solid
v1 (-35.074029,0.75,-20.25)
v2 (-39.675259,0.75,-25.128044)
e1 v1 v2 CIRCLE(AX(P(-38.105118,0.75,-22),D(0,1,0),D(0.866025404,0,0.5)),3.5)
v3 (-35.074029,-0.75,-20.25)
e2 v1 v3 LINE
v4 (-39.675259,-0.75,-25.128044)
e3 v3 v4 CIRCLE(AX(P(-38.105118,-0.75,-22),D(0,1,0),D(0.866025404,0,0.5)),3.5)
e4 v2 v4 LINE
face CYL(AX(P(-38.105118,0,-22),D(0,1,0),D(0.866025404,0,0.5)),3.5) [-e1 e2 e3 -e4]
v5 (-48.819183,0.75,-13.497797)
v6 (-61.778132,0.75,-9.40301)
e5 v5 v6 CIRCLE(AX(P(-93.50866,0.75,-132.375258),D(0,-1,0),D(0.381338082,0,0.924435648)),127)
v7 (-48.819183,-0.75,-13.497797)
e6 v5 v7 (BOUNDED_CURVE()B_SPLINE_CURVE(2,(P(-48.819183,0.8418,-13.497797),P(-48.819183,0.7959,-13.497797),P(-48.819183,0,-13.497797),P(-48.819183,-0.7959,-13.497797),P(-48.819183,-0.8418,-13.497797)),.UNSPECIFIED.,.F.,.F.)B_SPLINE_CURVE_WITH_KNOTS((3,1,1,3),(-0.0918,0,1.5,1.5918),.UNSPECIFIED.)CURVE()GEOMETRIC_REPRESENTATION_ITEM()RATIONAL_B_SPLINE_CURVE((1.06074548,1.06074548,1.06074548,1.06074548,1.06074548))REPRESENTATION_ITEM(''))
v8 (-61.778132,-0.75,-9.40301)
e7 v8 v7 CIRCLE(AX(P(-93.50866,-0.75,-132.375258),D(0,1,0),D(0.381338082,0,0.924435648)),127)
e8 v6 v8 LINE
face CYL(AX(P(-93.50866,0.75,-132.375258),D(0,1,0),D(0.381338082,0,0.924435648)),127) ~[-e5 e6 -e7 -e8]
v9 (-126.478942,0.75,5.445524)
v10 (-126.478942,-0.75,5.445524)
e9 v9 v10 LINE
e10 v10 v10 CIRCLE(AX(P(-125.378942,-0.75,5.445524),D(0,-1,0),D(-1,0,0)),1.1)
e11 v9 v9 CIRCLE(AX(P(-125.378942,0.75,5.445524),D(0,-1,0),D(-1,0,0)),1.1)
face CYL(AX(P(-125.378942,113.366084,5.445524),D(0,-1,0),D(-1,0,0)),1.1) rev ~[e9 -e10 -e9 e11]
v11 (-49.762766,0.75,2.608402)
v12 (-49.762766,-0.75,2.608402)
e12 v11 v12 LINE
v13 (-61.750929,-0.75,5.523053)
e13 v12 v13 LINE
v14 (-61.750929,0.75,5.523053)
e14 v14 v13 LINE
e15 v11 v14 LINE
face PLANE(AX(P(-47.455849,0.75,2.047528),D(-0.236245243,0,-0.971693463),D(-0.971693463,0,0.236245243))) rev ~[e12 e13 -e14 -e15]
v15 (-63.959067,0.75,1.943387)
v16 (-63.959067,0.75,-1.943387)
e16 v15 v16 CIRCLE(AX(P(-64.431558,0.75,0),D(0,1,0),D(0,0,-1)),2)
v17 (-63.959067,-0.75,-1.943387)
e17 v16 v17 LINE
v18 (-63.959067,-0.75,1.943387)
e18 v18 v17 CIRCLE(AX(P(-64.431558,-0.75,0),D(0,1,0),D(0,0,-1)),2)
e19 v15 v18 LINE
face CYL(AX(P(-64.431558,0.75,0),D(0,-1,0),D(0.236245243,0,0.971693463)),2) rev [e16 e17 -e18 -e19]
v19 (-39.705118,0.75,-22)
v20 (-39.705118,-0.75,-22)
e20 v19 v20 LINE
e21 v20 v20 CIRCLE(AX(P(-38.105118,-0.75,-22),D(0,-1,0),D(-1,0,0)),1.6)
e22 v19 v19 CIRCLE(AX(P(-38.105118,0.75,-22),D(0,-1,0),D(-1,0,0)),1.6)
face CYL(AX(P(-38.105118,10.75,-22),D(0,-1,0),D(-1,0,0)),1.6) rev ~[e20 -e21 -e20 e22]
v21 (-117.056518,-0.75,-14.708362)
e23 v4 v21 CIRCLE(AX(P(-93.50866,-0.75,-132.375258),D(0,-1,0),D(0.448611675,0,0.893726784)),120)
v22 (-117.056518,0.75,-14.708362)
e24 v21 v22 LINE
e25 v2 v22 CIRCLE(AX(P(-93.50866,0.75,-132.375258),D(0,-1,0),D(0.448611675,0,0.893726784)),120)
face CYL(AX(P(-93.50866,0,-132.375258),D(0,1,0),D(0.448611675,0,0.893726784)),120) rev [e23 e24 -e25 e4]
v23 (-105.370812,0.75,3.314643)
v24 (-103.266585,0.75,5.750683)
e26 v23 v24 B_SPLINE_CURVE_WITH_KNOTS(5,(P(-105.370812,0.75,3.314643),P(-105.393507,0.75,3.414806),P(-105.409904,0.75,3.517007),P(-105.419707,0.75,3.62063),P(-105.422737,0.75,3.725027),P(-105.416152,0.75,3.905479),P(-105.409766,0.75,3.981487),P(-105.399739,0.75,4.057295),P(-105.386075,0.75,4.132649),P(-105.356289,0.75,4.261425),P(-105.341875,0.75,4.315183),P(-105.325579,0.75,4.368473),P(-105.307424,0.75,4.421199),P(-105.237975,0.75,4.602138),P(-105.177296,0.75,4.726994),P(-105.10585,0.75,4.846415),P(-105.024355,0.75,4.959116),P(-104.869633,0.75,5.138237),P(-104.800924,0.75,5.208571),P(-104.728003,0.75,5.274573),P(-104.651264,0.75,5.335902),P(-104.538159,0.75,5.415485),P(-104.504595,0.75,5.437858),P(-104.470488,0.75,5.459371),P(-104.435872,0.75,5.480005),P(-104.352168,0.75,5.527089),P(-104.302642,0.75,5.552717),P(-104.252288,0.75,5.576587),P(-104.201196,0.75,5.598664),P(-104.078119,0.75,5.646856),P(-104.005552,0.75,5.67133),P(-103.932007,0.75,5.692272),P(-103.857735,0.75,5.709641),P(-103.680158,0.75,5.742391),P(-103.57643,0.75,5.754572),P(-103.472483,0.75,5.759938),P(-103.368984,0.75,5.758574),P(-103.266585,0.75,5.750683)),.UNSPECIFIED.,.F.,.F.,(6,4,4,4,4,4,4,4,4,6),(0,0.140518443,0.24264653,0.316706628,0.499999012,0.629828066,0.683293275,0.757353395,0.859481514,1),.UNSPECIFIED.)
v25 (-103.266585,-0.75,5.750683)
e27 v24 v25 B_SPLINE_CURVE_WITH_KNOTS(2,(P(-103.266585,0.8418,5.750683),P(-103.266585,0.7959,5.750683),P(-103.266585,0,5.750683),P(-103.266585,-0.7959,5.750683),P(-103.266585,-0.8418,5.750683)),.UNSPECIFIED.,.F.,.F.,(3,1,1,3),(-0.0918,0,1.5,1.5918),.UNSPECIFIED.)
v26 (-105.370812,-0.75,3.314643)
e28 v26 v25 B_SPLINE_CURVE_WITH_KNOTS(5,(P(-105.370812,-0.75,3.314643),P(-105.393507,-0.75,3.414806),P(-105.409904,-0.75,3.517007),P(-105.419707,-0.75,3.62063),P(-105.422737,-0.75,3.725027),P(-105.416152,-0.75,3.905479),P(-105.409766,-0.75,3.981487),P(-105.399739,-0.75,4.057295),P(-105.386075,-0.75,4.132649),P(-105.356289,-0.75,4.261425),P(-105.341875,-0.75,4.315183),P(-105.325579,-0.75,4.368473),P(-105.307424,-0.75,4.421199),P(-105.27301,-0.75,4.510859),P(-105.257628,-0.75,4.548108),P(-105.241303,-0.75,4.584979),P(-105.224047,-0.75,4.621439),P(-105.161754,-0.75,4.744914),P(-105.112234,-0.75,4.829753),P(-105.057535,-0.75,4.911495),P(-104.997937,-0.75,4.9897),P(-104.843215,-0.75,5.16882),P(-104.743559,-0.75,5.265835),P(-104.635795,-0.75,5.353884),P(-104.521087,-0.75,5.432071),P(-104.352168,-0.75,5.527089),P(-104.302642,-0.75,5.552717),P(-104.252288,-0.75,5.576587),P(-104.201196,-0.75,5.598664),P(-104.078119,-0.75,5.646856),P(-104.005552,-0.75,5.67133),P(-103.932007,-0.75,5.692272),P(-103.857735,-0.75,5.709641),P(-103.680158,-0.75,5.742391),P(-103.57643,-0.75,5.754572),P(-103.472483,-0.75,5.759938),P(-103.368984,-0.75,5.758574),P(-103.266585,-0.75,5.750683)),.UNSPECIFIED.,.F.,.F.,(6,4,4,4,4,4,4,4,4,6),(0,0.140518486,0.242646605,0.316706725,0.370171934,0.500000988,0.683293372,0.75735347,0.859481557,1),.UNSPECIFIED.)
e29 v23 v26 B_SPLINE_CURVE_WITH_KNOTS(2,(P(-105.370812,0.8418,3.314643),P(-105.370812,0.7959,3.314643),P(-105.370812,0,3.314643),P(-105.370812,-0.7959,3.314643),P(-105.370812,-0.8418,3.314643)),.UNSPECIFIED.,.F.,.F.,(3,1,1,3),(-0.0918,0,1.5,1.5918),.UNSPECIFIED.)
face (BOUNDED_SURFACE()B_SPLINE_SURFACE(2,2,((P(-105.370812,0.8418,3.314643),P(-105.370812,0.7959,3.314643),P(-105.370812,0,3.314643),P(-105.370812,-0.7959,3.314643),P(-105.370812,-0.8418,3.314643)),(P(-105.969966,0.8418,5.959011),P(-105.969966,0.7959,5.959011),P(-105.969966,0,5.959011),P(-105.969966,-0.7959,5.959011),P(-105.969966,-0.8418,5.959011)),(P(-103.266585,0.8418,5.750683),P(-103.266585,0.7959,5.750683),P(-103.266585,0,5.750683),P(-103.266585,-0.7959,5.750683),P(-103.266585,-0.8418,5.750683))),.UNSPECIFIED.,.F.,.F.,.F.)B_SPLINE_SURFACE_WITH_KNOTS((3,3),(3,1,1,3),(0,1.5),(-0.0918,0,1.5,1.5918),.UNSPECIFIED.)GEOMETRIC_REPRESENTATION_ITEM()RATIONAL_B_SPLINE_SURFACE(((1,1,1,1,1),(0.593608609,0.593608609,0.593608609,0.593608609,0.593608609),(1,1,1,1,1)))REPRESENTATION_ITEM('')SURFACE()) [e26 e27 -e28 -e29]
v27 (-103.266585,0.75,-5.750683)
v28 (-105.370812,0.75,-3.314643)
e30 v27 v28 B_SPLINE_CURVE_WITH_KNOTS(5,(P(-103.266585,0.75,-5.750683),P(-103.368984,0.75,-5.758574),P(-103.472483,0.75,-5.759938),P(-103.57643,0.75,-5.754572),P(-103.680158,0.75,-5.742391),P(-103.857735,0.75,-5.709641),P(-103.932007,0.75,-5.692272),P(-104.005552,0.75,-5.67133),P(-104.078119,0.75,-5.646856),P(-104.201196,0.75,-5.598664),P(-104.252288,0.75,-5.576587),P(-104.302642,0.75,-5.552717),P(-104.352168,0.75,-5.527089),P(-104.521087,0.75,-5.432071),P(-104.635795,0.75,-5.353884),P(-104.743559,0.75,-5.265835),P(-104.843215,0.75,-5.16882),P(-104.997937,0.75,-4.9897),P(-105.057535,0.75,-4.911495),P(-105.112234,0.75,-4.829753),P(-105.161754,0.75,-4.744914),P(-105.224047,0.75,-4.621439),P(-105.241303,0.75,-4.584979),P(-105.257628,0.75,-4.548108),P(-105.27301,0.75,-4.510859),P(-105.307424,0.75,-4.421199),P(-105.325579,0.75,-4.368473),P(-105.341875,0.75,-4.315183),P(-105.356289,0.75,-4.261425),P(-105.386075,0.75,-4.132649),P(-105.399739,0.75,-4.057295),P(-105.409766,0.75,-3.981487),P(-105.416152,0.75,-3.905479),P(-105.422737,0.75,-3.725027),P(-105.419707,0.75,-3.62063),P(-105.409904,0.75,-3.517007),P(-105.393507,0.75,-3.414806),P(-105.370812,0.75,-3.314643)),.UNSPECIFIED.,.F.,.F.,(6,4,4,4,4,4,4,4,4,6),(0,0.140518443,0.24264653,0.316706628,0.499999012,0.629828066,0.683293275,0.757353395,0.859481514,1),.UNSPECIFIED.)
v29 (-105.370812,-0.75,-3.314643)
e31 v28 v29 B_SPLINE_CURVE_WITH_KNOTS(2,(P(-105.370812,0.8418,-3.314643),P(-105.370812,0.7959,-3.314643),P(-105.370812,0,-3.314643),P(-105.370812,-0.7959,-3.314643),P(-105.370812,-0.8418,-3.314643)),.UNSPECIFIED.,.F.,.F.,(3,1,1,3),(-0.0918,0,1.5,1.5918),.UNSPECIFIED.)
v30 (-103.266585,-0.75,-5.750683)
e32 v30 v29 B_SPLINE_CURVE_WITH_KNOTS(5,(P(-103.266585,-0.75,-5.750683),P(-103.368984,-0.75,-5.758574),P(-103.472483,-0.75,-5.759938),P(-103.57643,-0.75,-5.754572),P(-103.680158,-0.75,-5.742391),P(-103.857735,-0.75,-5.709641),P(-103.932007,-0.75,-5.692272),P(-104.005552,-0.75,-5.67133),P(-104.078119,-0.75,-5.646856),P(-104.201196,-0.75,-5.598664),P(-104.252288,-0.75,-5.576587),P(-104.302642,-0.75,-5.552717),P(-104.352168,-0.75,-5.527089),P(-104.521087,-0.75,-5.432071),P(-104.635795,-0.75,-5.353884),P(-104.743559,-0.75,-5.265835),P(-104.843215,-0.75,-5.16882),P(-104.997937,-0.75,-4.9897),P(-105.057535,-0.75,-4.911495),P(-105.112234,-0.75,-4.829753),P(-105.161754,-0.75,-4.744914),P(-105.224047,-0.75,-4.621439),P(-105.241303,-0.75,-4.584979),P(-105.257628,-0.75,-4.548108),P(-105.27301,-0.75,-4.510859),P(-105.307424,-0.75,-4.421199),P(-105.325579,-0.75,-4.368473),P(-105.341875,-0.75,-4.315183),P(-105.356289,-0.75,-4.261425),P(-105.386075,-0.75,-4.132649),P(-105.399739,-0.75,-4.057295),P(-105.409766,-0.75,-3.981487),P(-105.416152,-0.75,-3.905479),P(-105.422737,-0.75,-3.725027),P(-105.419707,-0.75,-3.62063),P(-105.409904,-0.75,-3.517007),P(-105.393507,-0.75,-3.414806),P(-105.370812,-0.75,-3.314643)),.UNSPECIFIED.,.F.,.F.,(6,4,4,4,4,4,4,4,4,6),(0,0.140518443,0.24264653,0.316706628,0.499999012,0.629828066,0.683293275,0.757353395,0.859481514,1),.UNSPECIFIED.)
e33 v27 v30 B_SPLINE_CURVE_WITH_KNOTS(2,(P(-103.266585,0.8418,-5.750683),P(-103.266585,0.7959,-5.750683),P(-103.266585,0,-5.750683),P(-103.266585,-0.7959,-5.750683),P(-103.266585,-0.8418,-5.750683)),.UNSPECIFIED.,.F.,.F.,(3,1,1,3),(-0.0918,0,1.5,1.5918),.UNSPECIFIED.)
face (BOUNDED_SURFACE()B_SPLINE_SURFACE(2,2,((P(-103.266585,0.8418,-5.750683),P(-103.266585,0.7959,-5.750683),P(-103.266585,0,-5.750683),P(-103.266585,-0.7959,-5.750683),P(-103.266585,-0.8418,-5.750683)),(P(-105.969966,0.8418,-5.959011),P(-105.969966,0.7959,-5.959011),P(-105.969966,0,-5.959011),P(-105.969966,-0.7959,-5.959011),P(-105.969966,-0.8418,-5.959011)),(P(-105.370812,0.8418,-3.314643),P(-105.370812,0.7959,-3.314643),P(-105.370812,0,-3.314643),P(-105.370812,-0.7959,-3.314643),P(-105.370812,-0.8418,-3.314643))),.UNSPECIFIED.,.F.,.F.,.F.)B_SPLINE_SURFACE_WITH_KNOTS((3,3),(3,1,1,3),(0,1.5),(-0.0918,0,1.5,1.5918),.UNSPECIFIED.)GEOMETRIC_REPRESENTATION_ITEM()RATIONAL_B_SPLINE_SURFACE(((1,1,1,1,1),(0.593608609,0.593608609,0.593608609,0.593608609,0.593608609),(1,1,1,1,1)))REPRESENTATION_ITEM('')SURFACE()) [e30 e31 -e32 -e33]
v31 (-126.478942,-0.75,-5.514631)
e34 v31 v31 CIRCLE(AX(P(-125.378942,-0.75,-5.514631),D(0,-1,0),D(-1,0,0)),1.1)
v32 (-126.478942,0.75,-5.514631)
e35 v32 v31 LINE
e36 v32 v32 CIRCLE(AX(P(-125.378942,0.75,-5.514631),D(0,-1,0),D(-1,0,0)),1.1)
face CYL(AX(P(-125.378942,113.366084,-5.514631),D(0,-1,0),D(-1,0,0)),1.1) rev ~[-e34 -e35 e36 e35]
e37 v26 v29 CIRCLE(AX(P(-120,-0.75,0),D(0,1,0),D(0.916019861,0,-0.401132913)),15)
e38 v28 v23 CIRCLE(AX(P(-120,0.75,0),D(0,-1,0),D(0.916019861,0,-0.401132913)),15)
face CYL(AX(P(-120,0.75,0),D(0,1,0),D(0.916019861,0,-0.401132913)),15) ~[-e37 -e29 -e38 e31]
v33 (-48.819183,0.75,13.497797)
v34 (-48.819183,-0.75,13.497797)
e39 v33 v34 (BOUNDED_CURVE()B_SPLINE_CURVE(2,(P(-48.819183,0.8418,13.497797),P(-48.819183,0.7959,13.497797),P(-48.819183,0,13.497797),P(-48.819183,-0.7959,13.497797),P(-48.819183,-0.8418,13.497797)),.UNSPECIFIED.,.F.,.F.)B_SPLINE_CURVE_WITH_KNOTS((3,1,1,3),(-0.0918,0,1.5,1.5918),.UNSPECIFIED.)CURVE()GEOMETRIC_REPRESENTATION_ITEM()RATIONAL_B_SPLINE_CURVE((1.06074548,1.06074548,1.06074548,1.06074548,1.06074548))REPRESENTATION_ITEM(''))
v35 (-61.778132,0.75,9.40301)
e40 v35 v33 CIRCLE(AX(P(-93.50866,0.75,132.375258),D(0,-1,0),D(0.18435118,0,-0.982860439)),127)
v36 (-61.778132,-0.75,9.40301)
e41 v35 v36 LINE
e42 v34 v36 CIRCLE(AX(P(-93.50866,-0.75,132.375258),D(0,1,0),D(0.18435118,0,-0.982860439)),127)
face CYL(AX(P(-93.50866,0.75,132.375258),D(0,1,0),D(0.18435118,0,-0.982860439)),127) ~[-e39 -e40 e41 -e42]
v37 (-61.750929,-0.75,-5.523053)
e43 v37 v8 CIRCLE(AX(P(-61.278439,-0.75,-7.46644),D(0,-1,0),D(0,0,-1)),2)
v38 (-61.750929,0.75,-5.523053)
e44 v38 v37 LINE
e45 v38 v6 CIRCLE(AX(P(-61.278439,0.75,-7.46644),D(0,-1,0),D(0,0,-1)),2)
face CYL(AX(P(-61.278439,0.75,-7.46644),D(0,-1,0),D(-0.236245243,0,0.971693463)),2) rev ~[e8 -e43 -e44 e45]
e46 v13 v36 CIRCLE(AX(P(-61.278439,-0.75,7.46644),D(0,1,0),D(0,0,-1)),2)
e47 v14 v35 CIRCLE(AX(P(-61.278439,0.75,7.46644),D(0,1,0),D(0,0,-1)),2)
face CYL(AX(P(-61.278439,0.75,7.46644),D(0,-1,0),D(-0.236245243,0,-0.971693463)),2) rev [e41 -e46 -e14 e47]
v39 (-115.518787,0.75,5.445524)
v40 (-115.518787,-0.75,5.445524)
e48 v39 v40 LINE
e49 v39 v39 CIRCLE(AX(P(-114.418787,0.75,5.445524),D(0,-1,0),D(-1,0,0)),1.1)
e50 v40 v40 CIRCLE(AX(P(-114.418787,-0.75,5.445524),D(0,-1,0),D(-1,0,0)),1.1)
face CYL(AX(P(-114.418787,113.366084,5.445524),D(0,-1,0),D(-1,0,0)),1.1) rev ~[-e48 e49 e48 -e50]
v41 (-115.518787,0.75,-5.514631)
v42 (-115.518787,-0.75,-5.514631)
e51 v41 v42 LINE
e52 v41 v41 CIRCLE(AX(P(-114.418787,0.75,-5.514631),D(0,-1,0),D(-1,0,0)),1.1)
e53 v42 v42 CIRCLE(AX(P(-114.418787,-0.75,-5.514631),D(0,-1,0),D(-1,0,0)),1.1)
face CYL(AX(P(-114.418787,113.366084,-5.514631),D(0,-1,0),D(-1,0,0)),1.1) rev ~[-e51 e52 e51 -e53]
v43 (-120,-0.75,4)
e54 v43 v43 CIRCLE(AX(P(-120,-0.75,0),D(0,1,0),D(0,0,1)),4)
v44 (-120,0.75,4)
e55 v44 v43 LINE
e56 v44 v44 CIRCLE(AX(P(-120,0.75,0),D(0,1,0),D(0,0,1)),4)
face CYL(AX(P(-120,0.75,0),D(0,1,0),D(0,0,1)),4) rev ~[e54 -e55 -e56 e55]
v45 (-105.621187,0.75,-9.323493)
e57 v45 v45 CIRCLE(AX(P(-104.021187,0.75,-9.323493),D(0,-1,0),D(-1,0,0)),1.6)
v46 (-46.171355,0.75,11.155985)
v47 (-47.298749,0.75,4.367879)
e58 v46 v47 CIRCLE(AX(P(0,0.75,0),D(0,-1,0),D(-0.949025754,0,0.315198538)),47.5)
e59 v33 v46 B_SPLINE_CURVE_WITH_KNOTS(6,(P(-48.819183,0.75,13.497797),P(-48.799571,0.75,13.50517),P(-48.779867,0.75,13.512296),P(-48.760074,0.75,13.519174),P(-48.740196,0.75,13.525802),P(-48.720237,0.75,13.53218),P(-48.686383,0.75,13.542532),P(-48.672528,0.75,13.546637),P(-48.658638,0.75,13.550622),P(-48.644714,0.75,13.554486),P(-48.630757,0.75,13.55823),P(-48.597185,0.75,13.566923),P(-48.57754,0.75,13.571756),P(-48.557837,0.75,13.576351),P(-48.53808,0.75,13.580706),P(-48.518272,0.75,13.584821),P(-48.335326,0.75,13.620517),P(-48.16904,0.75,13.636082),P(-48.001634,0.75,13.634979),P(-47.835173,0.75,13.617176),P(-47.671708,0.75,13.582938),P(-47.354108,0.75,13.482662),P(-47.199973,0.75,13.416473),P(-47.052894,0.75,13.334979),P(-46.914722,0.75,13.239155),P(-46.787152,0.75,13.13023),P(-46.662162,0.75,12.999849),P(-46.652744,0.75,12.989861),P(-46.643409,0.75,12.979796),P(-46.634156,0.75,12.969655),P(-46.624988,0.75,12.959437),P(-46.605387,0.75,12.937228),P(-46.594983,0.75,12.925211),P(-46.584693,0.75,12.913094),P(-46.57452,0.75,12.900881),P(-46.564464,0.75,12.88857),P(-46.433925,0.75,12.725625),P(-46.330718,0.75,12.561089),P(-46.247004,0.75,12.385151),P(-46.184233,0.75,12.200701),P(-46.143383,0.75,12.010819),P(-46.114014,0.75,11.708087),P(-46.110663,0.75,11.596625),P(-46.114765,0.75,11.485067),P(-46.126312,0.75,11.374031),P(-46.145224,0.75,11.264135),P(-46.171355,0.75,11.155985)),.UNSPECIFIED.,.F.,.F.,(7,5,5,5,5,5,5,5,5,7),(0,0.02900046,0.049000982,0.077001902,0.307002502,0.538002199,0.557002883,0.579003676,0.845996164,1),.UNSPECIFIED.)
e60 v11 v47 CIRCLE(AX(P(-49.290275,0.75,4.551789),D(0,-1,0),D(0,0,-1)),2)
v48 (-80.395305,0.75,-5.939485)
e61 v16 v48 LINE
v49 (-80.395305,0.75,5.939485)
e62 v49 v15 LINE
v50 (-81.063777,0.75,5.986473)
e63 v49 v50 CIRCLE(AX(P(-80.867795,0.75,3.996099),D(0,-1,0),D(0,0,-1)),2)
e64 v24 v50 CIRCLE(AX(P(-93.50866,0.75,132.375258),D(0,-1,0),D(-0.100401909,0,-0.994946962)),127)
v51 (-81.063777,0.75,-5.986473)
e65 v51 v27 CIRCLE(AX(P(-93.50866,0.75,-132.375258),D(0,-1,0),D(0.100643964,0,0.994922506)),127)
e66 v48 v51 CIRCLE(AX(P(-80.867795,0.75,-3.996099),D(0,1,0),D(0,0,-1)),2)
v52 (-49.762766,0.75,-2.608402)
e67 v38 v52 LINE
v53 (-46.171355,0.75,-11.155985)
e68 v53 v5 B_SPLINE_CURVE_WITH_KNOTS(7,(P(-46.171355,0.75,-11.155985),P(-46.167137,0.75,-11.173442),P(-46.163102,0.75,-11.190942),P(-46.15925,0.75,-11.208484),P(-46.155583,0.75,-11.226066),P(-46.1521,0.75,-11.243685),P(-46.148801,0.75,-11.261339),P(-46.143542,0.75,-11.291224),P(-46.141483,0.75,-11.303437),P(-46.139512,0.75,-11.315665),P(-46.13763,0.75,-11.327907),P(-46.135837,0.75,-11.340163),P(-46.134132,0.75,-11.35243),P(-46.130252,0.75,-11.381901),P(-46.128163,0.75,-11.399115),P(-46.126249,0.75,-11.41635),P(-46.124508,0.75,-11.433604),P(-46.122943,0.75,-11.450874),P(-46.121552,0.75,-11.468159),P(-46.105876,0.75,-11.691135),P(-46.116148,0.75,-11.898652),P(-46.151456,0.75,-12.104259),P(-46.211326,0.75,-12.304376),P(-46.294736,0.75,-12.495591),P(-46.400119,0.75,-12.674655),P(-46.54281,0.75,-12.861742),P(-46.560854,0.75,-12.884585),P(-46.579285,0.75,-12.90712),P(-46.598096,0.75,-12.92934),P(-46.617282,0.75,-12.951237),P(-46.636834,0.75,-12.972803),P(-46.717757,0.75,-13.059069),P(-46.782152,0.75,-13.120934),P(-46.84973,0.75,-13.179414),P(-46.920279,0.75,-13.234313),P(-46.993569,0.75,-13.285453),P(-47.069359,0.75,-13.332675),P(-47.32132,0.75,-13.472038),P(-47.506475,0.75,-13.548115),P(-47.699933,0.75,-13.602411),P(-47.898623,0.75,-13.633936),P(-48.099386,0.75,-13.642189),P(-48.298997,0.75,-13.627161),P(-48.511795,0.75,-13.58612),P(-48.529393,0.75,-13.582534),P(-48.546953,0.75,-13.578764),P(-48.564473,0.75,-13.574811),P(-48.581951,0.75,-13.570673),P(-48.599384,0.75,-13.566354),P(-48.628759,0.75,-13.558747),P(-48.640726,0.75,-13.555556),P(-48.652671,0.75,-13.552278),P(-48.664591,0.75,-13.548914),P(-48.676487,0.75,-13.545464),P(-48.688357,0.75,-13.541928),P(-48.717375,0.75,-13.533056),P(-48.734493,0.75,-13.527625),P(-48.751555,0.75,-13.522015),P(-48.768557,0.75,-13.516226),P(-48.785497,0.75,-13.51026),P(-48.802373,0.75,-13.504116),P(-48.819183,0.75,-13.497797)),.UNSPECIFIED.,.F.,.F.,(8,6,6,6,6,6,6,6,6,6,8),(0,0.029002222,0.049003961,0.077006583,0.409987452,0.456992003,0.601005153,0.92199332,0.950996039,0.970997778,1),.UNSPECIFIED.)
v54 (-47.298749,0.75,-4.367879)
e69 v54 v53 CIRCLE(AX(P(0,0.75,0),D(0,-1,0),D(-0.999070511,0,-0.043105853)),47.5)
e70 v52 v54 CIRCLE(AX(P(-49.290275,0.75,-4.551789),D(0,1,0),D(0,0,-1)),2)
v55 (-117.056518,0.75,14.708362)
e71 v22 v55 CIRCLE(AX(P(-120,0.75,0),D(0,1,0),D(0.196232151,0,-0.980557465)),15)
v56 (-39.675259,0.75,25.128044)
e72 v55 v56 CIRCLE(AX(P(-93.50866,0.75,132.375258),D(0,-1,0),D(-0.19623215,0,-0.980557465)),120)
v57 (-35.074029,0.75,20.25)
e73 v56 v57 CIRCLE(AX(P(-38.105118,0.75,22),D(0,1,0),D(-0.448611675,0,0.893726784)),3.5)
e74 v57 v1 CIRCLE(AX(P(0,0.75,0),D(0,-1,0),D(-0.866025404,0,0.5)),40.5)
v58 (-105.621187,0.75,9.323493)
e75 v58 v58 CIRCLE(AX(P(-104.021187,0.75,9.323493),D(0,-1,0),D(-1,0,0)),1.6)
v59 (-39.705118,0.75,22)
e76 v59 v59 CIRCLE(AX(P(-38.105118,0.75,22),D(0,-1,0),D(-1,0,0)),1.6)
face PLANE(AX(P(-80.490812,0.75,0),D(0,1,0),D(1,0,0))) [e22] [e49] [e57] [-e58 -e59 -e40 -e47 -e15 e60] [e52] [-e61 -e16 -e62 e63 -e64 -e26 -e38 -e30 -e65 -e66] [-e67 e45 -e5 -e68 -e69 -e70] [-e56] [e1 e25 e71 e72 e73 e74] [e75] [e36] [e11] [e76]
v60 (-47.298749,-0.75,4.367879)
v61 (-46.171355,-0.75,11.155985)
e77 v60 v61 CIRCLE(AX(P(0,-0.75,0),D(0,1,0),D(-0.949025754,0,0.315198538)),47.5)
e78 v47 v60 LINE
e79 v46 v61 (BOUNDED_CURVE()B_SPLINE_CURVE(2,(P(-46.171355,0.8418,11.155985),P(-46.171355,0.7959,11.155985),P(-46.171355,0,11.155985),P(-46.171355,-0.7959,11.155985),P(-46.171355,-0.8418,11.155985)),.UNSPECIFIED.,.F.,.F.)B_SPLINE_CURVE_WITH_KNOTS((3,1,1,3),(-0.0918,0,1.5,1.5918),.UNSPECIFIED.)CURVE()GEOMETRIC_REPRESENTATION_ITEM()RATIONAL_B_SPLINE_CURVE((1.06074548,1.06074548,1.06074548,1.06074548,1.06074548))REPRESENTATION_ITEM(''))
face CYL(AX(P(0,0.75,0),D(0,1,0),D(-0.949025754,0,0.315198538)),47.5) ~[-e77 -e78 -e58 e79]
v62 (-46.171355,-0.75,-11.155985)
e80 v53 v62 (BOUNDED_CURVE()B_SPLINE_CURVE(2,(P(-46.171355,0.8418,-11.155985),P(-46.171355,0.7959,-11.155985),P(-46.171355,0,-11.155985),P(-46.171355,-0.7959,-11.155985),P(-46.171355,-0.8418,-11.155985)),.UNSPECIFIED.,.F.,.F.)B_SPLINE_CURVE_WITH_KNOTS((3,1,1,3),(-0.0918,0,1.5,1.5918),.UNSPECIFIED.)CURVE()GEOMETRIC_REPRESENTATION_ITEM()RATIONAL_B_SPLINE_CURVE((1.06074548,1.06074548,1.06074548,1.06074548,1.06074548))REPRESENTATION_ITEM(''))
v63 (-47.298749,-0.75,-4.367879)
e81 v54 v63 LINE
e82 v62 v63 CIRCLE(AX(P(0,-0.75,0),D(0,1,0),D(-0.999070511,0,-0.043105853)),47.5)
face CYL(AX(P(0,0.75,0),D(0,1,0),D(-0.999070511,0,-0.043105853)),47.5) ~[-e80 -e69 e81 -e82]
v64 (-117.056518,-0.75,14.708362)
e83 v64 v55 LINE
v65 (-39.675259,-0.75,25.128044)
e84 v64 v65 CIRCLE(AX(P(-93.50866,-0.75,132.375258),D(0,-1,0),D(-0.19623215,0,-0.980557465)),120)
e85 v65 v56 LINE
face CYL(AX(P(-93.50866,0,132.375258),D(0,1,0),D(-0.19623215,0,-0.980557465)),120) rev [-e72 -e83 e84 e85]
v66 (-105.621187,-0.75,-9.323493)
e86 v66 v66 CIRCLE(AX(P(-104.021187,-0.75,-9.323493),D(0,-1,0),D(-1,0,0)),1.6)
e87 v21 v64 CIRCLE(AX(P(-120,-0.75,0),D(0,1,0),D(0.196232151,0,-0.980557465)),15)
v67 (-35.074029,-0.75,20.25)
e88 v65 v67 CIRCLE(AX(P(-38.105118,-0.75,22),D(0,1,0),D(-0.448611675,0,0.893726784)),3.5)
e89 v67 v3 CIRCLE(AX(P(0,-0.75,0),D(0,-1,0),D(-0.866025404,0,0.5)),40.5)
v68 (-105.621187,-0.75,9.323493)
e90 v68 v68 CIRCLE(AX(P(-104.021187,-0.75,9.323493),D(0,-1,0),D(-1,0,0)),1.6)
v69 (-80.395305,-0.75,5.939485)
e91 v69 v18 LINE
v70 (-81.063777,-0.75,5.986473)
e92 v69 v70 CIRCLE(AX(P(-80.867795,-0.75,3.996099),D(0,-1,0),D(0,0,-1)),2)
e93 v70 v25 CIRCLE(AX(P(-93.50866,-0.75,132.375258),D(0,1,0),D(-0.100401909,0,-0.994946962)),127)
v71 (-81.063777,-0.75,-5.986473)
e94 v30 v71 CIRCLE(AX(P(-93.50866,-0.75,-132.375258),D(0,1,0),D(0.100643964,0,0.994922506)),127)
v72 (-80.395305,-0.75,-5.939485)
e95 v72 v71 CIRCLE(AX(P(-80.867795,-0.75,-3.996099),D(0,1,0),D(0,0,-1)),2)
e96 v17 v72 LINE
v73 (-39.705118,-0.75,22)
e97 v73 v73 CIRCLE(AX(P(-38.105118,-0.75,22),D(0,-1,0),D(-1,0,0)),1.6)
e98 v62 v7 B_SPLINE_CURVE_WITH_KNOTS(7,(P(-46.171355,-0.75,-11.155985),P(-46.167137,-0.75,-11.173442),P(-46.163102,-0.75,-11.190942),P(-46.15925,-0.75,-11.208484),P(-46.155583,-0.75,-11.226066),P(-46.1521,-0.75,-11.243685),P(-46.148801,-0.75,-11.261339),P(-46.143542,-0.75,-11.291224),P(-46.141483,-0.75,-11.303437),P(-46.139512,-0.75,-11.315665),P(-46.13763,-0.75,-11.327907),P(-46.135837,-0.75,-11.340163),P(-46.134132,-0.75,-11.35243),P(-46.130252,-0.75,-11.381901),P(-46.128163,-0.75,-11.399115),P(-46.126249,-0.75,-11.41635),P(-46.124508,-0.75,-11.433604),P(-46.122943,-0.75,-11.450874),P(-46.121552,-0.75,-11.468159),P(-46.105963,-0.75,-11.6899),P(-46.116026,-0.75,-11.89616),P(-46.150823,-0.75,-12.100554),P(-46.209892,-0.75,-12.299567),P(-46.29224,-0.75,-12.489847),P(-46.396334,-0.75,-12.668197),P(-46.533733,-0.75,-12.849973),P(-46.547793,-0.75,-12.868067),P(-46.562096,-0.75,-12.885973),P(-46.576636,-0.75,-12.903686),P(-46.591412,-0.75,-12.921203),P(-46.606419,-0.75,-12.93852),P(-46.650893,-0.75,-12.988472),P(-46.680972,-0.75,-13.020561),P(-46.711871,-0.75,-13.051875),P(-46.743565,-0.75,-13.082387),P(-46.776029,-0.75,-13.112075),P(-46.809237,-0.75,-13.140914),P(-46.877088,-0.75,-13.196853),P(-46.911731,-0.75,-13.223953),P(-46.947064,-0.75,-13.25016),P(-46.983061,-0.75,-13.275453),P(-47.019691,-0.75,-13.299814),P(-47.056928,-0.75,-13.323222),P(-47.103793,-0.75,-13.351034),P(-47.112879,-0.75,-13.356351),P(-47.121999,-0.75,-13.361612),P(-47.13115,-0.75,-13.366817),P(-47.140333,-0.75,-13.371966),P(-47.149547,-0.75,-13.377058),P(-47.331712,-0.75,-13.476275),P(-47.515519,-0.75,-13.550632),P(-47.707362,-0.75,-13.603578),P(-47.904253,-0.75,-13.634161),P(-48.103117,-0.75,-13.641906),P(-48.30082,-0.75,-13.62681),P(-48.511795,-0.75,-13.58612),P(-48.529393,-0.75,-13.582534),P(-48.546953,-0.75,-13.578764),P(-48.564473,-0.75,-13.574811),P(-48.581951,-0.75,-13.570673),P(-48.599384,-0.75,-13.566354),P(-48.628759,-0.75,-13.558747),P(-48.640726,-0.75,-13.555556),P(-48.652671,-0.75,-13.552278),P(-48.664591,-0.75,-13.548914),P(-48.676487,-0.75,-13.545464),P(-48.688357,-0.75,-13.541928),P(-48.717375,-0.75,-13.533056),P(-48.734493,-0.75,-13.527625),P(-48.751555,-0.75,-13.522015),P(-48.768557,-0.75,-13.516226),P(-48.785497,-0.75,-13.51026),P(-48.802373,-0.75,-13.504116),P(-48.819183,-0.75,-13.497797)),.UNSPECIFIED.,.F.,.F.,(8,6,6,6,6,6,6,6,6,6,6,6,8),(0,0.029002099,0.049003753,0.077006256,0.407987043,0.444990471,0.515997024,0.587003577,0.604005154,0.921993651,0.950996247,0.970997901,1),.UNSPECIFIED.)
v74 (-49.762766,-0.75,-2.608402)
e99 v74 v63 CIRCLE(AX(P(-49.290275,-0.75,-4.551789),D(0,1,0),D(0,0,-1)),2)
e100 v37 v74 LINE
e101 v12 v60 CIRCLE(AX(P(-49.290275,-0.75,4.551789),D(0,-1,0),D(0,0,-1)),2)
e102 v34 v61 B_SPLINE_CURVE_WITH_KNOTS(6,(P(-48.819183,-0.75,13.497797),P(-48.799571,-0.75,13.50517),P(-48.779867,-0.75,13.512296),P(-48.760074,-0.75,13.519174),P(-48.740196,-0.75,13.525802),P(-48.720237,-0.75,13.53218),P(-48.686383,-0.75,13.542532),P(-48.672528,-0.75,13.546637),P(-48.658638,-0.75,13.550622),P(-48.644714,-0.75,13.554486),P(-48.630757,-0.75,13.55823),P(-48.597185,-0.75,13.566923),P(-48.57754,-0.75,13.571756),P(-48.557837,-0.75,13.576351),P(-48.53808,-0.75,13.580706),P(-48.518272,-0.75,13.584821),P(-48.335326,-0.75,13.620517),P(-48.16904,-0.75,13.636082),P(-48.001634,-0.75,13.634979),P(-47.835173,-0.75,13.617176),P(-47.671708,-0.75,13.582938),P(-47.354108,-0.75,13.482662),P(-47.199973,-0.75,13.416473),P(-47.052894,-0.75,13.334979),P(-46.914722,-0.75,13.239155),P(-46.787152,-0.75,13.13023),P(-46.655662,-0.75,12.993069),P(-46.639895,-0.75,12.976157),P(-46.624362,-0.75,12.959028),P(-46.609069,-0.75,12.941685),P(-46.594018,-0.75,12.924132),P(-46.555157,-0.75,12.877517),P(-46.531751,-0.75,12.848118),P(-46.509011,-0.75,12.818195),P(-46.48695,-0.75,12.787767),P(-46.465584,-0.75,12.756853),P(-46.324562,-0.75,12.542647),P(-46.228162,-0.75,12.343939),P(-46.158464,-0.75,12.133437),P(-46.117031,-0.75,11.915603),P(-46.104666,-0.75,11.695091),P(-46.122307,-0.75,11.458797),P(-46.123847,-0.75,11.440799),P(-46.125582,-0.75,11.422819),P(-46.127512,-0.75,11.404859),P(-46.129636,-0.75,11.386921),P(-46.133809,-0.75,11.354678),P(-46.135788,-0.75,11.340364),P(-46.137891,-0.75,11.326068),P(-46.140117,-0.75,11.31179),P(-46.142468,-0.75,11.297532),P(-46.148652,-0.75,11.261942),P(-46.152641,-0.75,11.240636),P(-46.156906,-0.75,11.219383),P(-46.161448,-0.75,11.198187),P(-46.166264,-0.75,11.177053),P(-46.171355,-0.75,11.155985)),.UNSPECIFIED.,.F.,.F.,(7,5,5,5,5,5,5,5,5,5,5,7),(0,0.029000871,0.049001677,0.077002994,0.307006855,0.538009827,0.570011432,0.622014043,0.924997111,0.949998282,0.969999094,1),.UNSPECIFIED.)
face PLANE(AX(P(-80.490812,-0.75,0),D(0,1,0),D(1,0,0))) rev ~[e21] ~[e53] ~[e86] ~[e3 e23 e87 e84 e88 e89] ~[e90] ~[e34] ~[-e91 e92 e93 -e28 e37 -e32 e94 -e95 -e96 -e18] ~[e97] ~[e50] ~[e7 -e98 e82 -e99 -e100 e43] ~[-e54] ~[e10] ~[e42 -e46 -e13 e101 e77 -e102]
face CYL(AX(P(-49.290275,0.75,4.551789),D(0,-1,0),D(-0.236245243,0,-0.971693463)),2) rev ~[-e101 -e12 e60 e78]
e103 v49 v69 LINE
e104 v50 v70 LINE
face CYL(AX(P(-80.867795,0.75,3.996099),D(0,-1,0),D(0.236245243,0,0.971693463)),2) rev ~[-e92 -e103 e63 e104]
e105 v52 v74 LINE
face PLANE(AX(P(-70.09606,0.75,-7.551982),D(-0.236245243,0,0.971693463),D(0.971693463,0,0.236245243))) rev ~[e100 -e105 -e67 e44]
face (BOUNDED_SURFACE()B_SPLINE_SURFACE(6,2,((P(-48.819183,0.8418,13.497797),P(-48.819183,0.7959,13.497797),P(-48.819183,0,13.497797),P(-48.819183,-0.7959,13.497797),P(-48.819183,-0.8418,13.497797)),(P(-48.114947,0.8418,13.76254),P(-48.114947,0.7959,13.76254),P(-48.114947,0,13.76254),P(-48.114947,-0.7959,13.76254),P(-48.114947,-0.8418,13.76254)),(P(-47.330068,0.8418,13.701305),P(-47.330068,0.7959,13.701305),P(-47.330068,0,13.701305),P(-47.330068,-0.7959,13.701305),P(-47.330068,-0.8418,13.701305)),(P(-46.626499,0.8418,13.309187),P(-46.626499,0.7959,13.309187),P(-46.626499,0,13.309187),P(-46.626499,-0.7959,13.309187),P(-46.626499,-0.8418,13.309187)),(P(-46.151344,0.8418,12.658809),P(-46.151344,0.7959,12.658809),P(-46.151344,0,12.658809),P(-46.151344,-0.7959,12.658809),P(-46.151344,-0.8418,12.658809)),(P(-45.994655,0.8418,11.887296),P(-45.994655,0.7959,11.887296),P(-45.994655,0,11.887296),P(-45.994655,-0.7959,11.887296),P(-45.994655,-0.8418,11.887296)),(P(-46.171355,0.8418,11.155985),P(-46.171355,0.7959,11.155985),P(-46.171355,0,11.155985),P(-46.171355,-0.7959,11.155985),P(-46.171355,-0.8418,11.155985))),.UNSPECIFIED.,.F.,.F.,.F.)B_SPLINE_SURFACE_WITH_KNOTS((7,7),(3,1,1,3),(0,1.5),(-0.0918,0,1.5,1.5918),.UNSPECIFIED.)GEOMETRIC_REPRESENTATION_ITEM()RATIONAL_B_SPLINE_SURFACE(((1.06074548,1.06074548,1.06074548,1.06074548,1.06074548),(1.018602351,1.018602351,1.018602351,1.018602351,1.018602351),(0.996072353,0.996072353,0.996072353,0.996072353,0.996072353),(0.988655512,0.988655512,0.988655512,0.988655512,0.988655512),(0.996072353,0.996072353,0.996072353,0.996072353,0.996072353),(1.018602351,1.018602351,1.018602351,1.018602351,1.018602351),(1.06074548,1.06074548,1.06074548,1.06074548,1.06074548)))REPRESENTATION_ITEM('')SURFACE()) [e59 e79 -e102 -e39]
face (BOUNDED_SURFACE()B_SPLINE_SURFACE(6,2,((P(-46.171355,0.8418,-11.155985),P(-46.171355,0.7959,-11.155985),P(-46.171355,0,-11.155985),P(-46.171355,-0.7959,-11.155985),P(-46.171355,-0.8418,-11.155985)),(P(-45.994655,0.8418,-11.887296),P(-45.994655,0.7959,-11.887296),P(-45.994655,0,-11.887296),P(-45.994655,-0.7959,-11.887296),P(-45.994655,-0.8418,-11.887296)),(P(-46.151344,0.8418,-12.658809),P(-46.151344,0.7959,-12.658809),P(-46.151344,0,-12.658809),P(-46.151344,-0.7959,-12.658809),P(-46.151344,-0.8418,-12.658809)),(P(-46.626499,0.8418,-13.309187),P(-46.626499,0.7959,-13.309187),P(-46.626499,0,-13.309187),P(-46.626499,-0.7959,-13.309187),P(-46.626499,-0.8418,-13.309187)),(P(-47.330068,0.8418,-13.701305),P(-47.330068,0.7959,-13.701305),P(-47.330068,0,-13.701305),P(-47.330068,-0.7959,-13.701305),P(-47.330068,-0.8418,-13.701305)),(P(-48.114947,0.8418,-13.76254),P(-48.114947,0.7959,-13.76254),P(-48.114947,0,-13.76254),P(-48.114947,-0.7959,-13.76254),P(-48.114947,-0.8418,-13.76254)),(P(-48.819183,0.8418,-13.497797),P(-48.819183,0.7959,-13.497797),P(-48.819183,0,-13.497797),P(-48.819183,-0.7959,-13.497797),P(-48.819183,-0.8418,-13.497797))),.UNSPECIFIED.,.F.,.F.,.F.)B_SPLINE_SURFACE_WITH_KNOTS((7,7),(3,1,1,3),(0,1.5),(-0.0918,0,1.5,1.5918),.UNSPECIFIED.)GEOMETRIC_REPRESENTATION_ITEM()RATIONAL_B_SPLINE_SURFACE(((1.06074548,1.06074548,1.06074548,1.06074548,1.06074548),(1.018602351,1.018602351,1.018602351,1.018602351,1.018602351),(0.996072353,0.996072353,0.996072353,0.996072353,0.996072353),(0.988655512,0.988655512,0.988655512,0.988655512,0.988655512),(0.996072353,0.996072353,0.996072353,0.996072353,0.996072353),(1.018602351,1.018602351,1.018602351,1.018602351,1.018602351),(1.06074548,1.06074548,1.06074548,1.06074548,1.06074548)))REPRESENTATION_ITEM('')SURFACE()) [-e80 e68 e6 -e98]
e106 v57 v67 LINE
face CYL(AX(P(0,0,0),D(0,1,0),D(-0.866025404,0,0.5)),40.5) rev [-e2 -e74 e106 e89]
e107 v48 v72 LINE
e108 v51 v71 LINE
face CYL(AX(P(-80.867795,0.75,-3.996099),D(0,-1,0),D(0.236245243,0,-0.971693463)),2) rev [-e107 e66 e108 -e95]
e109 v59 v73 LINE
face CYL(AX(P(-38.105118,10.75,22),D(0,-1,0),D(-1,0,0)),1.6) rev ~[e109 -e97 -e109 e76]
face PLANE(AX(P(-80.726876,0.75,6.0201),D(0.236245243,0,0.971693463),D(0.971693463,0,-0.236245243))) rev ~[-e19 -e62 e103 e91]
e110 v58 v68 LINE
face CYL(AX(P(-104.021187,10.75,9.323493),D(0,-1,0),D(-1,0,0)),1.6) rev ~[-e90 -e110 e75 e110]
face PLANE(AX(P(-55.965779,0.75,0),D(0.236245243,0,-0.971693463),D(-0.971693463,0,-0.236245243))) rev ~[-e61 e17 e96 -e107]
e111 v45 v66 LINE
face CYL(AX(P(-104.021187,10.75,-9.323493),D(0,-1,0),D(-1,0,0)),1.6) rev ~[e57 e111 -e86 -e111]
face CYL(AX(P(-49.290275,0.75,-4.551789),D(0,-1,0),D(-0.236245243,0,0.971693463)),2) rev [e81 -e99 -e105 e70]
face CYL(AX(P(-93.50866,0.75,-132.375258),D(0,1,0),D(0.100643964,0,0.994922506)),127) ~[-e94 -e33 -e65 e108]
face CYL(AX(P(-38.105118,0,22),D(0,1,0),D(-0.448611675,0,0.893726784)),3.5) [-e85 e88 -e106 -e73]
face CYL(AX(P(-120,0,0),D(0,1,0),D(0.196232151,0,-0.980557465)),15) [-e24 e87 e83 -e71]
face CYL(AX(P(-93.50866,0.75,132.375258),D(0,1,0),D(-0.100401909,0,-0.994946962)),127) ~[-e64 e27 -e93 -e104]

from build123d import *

# Parameters (mm, degrees)
SKETCH1_R                      = 3.5
BOSS_EXTRUDE1_DEPTH            = 0.75
F_2_2_2_2_DIAMETER_HOLE1_D     = 2.2
F_3_2_3_2_DIAMETER_HOLE1_D     = 3.2
F_3_2_3_2_DIAMETER_HOLE1_DEPTH = 10
F_3_2_3_2_DIAMETER_HOLE1_TIP   = 0.96137699
CUT_EXTRUDE1_DEPTH             = 138.395414771
FILLET1_R                      = 2
SKETCH7_R                      = 4
CUT_EXTRUDE2_DEPTH             = 138.395414889


with BuildPart() as part:
    # Sketch1 → Boss-Extrude1 (new, symmetric)
    with BuildSketch(Plane(origin=(0, 0, 0), x_dir=(1, 0, 0), z_dir=(0, 1, 0))):
        with BuildLine():
            ThreePointArc((-41.13620668, -23.75), (-47.5, 0), (-41.13620668, 23.75))
            ThreePointArc((-41.13620668, 23.75), (-40.506696415, 24.5460597), (-39.675258631, 25.128043744))
            ThreePointArc((-39.675258631, 25.128043744), (-77.494729166, 13.448582828), (-117.056517742, 14.708361982))
            ThreePointArc((-117.056517742, 14.708361982), (-135, 0), (-117.056517742, -14.708361982))
            ThreePointArc((-117.056517742, -14.708361982), (-77.494729166, -13.448582828), (-39.675258631, -25.128043744))
            ThreePointArc((-39.675258631, -25.128043744), (-40.506696415, -24.5460597), (-41.13620668, -23.75))
        make_face()
        with BuildLine():
            ThreePointArc((-35.074028853, 20.25), (-39.855117767, 18.968911087), (-41.13620668, 23.75))
            ThreePointArc((-41.13620668, 23.75), (-47.5, 0), (-41.13620668, -23.75))
            ThreePointArc((-41.13620668, -23.75), (-39.855117767, -18.968911087), (-35.074028853, -20.25))
            ThreePointArc((-35.074028853, -20.25), (-40.5, 0), (-35.074028853, 20.25))
        make_face()
        with Locations((-38.105117767, -22)):
            Circle(SKETCH1_R)
        with Locations((-38.105117767, 22)):
            Circle(SKETCH1_R)
    extrude(amount=BOSS_EXTRUDE1_DEPTH, both=True)

    # Ø2.2 (2.2) Diameter Hole1 (through all)
    with Locations(Plane(origin=(0, 0.75, 0), x_dir=(1, 0, 0), z_dir=(0, 1, 0))):
        with Locations((-125.378942435, 5.51463095), (-114.418787327, 5.51463095), (-114.418787327, -5.445524158), (-125.378942435, -5.445524158)):
            Hole(F_2_2_2_2_DIAMETER_HOLE1_D / 2)

    # Ø3.2 (3.2) Diameter Hole1
    with Locations(Plane(origin=(0, 0.75, 0), x_dir=(1, 0, 0), z_dir=(0, 1, 0))):
        with Locations((-38.105117767, 22), (-38.105117767, -22), (-104.021186711, 9.323493222), (-104.021186711, -9.323493222)):
            Hole(F_3_2_3_2_DIAMETER_HOLE1_D / 2, depth=F_3_2_3_2_DIAMETER_HOLE1_DEPTH)
            with Locations((0, 0, -(F_3_2_3_2_DIAMETER_HOLE1_DEPTH + F_3_2_3_2_DIAMETER_HOLE1_TIP / 2))):  # 118° drill point
                Cone(0, F_3_2_3_2_DIAMETER_HOLE1_D / 2, F_3_2_3_2_DIAMETER_HOLE1_TIP, mode=Mode.SUBTRACT)

    # Sketch6 → Cut-Extrude1 (cut, through all)
    with BuildSketch(Plane(origin=(0, 0.75, 0), x_dir=(1, 0, 0), z_dir=(0, 1, 0))):
        with BuildLine():
            Line((-80.72687621, -6.02009961), (-55.965778938, 0))
            Line((-55.965778938, 0), (-80.72687621, 6.02009961))
            ThreePointArc((-80.72687621, 6.02009961), (-93.493210894, 5.375258779), (-106.259702082, 6.016993695))
            ThreePointArc((-106.259702082, 6.016993695), (-105, 0), (-106.259702082, -6.016993695))
            ThreePointArc((-106.259702082, -6.016993695), (-93.493210894, -5.375258779), (-80.72687621, -6.02009961))
        make_face()
        with BuildLine():
            Line((-70.096059807, 7.551982097), (-47.45584926, 2.047528026))
            ThreePointArc((-47.45584926, 2.047528026), (-46.716397825, 8.592332297), (-45.078723321, 14.971930527))
            ThreePointArc((-45.078723321, 14.971930527), (-57.396315368, 10.61771767), (-70.096059807, 7.551982097))
        make_face()
        with BuildLine():
            ThreePointArc((-45.078723321, -14.971930527), (-46.716397825, -8.592332297), (-47.45584926, -2.047528026))
            Line((-47.45584926, -2.047528026), (-70.096059807, -7.551982097))
            ThreePointArc((-70.096059807, -7.551982097), (-57.396315368, -10.61771767), (-45.078723321, -14.971930527))
        make_face()
    extrude(amount=-CUT_EXTRUDE1_DEPTH, mode=Mode.SUBTRACT)

    # Fillet1
    fillet1_edges = [part.edges().sort_by_distance(p)[0] for p in [
        (-47.45584926, 0, 2.047528026),
        (-45.078723321, 0, 14.971930527),
        (-70.096059807, 0, 7.551982097),
        (-106.259702082, 0, 6.016993695),
        (-106.259702082, 0, -6.016993695),
        (-80.72687621, 0, -6.02009961),
        (-55.965778938, 0, 0),
        (-80.72687621, 0, 6.02009961),
        (-45.078723321, 0, -14.971930527),
        (-47.45584926, 0, -2.047528026),
        (-70.096059807, 0, -7.551982097),
    ]]
    fillet(fillet1_edges, radius=FILLET1_R)

    # Sketch7 → Cut-Extrude2 (cut, through all)
    with BuildSketch(Plane(origin=(0, 0.75, 0), x_dir=(1, 0, 0), z_dir=(0, 1, 0))):
        with Locations(Location((-120, 0, 0), (0, 0, 270))):
            Circle(SKETCH7_R)
    extrude(amount=-CUT_EXTRUDE2_DEPTH, mode=Mode.SUBTRACT)


solid = part.part
